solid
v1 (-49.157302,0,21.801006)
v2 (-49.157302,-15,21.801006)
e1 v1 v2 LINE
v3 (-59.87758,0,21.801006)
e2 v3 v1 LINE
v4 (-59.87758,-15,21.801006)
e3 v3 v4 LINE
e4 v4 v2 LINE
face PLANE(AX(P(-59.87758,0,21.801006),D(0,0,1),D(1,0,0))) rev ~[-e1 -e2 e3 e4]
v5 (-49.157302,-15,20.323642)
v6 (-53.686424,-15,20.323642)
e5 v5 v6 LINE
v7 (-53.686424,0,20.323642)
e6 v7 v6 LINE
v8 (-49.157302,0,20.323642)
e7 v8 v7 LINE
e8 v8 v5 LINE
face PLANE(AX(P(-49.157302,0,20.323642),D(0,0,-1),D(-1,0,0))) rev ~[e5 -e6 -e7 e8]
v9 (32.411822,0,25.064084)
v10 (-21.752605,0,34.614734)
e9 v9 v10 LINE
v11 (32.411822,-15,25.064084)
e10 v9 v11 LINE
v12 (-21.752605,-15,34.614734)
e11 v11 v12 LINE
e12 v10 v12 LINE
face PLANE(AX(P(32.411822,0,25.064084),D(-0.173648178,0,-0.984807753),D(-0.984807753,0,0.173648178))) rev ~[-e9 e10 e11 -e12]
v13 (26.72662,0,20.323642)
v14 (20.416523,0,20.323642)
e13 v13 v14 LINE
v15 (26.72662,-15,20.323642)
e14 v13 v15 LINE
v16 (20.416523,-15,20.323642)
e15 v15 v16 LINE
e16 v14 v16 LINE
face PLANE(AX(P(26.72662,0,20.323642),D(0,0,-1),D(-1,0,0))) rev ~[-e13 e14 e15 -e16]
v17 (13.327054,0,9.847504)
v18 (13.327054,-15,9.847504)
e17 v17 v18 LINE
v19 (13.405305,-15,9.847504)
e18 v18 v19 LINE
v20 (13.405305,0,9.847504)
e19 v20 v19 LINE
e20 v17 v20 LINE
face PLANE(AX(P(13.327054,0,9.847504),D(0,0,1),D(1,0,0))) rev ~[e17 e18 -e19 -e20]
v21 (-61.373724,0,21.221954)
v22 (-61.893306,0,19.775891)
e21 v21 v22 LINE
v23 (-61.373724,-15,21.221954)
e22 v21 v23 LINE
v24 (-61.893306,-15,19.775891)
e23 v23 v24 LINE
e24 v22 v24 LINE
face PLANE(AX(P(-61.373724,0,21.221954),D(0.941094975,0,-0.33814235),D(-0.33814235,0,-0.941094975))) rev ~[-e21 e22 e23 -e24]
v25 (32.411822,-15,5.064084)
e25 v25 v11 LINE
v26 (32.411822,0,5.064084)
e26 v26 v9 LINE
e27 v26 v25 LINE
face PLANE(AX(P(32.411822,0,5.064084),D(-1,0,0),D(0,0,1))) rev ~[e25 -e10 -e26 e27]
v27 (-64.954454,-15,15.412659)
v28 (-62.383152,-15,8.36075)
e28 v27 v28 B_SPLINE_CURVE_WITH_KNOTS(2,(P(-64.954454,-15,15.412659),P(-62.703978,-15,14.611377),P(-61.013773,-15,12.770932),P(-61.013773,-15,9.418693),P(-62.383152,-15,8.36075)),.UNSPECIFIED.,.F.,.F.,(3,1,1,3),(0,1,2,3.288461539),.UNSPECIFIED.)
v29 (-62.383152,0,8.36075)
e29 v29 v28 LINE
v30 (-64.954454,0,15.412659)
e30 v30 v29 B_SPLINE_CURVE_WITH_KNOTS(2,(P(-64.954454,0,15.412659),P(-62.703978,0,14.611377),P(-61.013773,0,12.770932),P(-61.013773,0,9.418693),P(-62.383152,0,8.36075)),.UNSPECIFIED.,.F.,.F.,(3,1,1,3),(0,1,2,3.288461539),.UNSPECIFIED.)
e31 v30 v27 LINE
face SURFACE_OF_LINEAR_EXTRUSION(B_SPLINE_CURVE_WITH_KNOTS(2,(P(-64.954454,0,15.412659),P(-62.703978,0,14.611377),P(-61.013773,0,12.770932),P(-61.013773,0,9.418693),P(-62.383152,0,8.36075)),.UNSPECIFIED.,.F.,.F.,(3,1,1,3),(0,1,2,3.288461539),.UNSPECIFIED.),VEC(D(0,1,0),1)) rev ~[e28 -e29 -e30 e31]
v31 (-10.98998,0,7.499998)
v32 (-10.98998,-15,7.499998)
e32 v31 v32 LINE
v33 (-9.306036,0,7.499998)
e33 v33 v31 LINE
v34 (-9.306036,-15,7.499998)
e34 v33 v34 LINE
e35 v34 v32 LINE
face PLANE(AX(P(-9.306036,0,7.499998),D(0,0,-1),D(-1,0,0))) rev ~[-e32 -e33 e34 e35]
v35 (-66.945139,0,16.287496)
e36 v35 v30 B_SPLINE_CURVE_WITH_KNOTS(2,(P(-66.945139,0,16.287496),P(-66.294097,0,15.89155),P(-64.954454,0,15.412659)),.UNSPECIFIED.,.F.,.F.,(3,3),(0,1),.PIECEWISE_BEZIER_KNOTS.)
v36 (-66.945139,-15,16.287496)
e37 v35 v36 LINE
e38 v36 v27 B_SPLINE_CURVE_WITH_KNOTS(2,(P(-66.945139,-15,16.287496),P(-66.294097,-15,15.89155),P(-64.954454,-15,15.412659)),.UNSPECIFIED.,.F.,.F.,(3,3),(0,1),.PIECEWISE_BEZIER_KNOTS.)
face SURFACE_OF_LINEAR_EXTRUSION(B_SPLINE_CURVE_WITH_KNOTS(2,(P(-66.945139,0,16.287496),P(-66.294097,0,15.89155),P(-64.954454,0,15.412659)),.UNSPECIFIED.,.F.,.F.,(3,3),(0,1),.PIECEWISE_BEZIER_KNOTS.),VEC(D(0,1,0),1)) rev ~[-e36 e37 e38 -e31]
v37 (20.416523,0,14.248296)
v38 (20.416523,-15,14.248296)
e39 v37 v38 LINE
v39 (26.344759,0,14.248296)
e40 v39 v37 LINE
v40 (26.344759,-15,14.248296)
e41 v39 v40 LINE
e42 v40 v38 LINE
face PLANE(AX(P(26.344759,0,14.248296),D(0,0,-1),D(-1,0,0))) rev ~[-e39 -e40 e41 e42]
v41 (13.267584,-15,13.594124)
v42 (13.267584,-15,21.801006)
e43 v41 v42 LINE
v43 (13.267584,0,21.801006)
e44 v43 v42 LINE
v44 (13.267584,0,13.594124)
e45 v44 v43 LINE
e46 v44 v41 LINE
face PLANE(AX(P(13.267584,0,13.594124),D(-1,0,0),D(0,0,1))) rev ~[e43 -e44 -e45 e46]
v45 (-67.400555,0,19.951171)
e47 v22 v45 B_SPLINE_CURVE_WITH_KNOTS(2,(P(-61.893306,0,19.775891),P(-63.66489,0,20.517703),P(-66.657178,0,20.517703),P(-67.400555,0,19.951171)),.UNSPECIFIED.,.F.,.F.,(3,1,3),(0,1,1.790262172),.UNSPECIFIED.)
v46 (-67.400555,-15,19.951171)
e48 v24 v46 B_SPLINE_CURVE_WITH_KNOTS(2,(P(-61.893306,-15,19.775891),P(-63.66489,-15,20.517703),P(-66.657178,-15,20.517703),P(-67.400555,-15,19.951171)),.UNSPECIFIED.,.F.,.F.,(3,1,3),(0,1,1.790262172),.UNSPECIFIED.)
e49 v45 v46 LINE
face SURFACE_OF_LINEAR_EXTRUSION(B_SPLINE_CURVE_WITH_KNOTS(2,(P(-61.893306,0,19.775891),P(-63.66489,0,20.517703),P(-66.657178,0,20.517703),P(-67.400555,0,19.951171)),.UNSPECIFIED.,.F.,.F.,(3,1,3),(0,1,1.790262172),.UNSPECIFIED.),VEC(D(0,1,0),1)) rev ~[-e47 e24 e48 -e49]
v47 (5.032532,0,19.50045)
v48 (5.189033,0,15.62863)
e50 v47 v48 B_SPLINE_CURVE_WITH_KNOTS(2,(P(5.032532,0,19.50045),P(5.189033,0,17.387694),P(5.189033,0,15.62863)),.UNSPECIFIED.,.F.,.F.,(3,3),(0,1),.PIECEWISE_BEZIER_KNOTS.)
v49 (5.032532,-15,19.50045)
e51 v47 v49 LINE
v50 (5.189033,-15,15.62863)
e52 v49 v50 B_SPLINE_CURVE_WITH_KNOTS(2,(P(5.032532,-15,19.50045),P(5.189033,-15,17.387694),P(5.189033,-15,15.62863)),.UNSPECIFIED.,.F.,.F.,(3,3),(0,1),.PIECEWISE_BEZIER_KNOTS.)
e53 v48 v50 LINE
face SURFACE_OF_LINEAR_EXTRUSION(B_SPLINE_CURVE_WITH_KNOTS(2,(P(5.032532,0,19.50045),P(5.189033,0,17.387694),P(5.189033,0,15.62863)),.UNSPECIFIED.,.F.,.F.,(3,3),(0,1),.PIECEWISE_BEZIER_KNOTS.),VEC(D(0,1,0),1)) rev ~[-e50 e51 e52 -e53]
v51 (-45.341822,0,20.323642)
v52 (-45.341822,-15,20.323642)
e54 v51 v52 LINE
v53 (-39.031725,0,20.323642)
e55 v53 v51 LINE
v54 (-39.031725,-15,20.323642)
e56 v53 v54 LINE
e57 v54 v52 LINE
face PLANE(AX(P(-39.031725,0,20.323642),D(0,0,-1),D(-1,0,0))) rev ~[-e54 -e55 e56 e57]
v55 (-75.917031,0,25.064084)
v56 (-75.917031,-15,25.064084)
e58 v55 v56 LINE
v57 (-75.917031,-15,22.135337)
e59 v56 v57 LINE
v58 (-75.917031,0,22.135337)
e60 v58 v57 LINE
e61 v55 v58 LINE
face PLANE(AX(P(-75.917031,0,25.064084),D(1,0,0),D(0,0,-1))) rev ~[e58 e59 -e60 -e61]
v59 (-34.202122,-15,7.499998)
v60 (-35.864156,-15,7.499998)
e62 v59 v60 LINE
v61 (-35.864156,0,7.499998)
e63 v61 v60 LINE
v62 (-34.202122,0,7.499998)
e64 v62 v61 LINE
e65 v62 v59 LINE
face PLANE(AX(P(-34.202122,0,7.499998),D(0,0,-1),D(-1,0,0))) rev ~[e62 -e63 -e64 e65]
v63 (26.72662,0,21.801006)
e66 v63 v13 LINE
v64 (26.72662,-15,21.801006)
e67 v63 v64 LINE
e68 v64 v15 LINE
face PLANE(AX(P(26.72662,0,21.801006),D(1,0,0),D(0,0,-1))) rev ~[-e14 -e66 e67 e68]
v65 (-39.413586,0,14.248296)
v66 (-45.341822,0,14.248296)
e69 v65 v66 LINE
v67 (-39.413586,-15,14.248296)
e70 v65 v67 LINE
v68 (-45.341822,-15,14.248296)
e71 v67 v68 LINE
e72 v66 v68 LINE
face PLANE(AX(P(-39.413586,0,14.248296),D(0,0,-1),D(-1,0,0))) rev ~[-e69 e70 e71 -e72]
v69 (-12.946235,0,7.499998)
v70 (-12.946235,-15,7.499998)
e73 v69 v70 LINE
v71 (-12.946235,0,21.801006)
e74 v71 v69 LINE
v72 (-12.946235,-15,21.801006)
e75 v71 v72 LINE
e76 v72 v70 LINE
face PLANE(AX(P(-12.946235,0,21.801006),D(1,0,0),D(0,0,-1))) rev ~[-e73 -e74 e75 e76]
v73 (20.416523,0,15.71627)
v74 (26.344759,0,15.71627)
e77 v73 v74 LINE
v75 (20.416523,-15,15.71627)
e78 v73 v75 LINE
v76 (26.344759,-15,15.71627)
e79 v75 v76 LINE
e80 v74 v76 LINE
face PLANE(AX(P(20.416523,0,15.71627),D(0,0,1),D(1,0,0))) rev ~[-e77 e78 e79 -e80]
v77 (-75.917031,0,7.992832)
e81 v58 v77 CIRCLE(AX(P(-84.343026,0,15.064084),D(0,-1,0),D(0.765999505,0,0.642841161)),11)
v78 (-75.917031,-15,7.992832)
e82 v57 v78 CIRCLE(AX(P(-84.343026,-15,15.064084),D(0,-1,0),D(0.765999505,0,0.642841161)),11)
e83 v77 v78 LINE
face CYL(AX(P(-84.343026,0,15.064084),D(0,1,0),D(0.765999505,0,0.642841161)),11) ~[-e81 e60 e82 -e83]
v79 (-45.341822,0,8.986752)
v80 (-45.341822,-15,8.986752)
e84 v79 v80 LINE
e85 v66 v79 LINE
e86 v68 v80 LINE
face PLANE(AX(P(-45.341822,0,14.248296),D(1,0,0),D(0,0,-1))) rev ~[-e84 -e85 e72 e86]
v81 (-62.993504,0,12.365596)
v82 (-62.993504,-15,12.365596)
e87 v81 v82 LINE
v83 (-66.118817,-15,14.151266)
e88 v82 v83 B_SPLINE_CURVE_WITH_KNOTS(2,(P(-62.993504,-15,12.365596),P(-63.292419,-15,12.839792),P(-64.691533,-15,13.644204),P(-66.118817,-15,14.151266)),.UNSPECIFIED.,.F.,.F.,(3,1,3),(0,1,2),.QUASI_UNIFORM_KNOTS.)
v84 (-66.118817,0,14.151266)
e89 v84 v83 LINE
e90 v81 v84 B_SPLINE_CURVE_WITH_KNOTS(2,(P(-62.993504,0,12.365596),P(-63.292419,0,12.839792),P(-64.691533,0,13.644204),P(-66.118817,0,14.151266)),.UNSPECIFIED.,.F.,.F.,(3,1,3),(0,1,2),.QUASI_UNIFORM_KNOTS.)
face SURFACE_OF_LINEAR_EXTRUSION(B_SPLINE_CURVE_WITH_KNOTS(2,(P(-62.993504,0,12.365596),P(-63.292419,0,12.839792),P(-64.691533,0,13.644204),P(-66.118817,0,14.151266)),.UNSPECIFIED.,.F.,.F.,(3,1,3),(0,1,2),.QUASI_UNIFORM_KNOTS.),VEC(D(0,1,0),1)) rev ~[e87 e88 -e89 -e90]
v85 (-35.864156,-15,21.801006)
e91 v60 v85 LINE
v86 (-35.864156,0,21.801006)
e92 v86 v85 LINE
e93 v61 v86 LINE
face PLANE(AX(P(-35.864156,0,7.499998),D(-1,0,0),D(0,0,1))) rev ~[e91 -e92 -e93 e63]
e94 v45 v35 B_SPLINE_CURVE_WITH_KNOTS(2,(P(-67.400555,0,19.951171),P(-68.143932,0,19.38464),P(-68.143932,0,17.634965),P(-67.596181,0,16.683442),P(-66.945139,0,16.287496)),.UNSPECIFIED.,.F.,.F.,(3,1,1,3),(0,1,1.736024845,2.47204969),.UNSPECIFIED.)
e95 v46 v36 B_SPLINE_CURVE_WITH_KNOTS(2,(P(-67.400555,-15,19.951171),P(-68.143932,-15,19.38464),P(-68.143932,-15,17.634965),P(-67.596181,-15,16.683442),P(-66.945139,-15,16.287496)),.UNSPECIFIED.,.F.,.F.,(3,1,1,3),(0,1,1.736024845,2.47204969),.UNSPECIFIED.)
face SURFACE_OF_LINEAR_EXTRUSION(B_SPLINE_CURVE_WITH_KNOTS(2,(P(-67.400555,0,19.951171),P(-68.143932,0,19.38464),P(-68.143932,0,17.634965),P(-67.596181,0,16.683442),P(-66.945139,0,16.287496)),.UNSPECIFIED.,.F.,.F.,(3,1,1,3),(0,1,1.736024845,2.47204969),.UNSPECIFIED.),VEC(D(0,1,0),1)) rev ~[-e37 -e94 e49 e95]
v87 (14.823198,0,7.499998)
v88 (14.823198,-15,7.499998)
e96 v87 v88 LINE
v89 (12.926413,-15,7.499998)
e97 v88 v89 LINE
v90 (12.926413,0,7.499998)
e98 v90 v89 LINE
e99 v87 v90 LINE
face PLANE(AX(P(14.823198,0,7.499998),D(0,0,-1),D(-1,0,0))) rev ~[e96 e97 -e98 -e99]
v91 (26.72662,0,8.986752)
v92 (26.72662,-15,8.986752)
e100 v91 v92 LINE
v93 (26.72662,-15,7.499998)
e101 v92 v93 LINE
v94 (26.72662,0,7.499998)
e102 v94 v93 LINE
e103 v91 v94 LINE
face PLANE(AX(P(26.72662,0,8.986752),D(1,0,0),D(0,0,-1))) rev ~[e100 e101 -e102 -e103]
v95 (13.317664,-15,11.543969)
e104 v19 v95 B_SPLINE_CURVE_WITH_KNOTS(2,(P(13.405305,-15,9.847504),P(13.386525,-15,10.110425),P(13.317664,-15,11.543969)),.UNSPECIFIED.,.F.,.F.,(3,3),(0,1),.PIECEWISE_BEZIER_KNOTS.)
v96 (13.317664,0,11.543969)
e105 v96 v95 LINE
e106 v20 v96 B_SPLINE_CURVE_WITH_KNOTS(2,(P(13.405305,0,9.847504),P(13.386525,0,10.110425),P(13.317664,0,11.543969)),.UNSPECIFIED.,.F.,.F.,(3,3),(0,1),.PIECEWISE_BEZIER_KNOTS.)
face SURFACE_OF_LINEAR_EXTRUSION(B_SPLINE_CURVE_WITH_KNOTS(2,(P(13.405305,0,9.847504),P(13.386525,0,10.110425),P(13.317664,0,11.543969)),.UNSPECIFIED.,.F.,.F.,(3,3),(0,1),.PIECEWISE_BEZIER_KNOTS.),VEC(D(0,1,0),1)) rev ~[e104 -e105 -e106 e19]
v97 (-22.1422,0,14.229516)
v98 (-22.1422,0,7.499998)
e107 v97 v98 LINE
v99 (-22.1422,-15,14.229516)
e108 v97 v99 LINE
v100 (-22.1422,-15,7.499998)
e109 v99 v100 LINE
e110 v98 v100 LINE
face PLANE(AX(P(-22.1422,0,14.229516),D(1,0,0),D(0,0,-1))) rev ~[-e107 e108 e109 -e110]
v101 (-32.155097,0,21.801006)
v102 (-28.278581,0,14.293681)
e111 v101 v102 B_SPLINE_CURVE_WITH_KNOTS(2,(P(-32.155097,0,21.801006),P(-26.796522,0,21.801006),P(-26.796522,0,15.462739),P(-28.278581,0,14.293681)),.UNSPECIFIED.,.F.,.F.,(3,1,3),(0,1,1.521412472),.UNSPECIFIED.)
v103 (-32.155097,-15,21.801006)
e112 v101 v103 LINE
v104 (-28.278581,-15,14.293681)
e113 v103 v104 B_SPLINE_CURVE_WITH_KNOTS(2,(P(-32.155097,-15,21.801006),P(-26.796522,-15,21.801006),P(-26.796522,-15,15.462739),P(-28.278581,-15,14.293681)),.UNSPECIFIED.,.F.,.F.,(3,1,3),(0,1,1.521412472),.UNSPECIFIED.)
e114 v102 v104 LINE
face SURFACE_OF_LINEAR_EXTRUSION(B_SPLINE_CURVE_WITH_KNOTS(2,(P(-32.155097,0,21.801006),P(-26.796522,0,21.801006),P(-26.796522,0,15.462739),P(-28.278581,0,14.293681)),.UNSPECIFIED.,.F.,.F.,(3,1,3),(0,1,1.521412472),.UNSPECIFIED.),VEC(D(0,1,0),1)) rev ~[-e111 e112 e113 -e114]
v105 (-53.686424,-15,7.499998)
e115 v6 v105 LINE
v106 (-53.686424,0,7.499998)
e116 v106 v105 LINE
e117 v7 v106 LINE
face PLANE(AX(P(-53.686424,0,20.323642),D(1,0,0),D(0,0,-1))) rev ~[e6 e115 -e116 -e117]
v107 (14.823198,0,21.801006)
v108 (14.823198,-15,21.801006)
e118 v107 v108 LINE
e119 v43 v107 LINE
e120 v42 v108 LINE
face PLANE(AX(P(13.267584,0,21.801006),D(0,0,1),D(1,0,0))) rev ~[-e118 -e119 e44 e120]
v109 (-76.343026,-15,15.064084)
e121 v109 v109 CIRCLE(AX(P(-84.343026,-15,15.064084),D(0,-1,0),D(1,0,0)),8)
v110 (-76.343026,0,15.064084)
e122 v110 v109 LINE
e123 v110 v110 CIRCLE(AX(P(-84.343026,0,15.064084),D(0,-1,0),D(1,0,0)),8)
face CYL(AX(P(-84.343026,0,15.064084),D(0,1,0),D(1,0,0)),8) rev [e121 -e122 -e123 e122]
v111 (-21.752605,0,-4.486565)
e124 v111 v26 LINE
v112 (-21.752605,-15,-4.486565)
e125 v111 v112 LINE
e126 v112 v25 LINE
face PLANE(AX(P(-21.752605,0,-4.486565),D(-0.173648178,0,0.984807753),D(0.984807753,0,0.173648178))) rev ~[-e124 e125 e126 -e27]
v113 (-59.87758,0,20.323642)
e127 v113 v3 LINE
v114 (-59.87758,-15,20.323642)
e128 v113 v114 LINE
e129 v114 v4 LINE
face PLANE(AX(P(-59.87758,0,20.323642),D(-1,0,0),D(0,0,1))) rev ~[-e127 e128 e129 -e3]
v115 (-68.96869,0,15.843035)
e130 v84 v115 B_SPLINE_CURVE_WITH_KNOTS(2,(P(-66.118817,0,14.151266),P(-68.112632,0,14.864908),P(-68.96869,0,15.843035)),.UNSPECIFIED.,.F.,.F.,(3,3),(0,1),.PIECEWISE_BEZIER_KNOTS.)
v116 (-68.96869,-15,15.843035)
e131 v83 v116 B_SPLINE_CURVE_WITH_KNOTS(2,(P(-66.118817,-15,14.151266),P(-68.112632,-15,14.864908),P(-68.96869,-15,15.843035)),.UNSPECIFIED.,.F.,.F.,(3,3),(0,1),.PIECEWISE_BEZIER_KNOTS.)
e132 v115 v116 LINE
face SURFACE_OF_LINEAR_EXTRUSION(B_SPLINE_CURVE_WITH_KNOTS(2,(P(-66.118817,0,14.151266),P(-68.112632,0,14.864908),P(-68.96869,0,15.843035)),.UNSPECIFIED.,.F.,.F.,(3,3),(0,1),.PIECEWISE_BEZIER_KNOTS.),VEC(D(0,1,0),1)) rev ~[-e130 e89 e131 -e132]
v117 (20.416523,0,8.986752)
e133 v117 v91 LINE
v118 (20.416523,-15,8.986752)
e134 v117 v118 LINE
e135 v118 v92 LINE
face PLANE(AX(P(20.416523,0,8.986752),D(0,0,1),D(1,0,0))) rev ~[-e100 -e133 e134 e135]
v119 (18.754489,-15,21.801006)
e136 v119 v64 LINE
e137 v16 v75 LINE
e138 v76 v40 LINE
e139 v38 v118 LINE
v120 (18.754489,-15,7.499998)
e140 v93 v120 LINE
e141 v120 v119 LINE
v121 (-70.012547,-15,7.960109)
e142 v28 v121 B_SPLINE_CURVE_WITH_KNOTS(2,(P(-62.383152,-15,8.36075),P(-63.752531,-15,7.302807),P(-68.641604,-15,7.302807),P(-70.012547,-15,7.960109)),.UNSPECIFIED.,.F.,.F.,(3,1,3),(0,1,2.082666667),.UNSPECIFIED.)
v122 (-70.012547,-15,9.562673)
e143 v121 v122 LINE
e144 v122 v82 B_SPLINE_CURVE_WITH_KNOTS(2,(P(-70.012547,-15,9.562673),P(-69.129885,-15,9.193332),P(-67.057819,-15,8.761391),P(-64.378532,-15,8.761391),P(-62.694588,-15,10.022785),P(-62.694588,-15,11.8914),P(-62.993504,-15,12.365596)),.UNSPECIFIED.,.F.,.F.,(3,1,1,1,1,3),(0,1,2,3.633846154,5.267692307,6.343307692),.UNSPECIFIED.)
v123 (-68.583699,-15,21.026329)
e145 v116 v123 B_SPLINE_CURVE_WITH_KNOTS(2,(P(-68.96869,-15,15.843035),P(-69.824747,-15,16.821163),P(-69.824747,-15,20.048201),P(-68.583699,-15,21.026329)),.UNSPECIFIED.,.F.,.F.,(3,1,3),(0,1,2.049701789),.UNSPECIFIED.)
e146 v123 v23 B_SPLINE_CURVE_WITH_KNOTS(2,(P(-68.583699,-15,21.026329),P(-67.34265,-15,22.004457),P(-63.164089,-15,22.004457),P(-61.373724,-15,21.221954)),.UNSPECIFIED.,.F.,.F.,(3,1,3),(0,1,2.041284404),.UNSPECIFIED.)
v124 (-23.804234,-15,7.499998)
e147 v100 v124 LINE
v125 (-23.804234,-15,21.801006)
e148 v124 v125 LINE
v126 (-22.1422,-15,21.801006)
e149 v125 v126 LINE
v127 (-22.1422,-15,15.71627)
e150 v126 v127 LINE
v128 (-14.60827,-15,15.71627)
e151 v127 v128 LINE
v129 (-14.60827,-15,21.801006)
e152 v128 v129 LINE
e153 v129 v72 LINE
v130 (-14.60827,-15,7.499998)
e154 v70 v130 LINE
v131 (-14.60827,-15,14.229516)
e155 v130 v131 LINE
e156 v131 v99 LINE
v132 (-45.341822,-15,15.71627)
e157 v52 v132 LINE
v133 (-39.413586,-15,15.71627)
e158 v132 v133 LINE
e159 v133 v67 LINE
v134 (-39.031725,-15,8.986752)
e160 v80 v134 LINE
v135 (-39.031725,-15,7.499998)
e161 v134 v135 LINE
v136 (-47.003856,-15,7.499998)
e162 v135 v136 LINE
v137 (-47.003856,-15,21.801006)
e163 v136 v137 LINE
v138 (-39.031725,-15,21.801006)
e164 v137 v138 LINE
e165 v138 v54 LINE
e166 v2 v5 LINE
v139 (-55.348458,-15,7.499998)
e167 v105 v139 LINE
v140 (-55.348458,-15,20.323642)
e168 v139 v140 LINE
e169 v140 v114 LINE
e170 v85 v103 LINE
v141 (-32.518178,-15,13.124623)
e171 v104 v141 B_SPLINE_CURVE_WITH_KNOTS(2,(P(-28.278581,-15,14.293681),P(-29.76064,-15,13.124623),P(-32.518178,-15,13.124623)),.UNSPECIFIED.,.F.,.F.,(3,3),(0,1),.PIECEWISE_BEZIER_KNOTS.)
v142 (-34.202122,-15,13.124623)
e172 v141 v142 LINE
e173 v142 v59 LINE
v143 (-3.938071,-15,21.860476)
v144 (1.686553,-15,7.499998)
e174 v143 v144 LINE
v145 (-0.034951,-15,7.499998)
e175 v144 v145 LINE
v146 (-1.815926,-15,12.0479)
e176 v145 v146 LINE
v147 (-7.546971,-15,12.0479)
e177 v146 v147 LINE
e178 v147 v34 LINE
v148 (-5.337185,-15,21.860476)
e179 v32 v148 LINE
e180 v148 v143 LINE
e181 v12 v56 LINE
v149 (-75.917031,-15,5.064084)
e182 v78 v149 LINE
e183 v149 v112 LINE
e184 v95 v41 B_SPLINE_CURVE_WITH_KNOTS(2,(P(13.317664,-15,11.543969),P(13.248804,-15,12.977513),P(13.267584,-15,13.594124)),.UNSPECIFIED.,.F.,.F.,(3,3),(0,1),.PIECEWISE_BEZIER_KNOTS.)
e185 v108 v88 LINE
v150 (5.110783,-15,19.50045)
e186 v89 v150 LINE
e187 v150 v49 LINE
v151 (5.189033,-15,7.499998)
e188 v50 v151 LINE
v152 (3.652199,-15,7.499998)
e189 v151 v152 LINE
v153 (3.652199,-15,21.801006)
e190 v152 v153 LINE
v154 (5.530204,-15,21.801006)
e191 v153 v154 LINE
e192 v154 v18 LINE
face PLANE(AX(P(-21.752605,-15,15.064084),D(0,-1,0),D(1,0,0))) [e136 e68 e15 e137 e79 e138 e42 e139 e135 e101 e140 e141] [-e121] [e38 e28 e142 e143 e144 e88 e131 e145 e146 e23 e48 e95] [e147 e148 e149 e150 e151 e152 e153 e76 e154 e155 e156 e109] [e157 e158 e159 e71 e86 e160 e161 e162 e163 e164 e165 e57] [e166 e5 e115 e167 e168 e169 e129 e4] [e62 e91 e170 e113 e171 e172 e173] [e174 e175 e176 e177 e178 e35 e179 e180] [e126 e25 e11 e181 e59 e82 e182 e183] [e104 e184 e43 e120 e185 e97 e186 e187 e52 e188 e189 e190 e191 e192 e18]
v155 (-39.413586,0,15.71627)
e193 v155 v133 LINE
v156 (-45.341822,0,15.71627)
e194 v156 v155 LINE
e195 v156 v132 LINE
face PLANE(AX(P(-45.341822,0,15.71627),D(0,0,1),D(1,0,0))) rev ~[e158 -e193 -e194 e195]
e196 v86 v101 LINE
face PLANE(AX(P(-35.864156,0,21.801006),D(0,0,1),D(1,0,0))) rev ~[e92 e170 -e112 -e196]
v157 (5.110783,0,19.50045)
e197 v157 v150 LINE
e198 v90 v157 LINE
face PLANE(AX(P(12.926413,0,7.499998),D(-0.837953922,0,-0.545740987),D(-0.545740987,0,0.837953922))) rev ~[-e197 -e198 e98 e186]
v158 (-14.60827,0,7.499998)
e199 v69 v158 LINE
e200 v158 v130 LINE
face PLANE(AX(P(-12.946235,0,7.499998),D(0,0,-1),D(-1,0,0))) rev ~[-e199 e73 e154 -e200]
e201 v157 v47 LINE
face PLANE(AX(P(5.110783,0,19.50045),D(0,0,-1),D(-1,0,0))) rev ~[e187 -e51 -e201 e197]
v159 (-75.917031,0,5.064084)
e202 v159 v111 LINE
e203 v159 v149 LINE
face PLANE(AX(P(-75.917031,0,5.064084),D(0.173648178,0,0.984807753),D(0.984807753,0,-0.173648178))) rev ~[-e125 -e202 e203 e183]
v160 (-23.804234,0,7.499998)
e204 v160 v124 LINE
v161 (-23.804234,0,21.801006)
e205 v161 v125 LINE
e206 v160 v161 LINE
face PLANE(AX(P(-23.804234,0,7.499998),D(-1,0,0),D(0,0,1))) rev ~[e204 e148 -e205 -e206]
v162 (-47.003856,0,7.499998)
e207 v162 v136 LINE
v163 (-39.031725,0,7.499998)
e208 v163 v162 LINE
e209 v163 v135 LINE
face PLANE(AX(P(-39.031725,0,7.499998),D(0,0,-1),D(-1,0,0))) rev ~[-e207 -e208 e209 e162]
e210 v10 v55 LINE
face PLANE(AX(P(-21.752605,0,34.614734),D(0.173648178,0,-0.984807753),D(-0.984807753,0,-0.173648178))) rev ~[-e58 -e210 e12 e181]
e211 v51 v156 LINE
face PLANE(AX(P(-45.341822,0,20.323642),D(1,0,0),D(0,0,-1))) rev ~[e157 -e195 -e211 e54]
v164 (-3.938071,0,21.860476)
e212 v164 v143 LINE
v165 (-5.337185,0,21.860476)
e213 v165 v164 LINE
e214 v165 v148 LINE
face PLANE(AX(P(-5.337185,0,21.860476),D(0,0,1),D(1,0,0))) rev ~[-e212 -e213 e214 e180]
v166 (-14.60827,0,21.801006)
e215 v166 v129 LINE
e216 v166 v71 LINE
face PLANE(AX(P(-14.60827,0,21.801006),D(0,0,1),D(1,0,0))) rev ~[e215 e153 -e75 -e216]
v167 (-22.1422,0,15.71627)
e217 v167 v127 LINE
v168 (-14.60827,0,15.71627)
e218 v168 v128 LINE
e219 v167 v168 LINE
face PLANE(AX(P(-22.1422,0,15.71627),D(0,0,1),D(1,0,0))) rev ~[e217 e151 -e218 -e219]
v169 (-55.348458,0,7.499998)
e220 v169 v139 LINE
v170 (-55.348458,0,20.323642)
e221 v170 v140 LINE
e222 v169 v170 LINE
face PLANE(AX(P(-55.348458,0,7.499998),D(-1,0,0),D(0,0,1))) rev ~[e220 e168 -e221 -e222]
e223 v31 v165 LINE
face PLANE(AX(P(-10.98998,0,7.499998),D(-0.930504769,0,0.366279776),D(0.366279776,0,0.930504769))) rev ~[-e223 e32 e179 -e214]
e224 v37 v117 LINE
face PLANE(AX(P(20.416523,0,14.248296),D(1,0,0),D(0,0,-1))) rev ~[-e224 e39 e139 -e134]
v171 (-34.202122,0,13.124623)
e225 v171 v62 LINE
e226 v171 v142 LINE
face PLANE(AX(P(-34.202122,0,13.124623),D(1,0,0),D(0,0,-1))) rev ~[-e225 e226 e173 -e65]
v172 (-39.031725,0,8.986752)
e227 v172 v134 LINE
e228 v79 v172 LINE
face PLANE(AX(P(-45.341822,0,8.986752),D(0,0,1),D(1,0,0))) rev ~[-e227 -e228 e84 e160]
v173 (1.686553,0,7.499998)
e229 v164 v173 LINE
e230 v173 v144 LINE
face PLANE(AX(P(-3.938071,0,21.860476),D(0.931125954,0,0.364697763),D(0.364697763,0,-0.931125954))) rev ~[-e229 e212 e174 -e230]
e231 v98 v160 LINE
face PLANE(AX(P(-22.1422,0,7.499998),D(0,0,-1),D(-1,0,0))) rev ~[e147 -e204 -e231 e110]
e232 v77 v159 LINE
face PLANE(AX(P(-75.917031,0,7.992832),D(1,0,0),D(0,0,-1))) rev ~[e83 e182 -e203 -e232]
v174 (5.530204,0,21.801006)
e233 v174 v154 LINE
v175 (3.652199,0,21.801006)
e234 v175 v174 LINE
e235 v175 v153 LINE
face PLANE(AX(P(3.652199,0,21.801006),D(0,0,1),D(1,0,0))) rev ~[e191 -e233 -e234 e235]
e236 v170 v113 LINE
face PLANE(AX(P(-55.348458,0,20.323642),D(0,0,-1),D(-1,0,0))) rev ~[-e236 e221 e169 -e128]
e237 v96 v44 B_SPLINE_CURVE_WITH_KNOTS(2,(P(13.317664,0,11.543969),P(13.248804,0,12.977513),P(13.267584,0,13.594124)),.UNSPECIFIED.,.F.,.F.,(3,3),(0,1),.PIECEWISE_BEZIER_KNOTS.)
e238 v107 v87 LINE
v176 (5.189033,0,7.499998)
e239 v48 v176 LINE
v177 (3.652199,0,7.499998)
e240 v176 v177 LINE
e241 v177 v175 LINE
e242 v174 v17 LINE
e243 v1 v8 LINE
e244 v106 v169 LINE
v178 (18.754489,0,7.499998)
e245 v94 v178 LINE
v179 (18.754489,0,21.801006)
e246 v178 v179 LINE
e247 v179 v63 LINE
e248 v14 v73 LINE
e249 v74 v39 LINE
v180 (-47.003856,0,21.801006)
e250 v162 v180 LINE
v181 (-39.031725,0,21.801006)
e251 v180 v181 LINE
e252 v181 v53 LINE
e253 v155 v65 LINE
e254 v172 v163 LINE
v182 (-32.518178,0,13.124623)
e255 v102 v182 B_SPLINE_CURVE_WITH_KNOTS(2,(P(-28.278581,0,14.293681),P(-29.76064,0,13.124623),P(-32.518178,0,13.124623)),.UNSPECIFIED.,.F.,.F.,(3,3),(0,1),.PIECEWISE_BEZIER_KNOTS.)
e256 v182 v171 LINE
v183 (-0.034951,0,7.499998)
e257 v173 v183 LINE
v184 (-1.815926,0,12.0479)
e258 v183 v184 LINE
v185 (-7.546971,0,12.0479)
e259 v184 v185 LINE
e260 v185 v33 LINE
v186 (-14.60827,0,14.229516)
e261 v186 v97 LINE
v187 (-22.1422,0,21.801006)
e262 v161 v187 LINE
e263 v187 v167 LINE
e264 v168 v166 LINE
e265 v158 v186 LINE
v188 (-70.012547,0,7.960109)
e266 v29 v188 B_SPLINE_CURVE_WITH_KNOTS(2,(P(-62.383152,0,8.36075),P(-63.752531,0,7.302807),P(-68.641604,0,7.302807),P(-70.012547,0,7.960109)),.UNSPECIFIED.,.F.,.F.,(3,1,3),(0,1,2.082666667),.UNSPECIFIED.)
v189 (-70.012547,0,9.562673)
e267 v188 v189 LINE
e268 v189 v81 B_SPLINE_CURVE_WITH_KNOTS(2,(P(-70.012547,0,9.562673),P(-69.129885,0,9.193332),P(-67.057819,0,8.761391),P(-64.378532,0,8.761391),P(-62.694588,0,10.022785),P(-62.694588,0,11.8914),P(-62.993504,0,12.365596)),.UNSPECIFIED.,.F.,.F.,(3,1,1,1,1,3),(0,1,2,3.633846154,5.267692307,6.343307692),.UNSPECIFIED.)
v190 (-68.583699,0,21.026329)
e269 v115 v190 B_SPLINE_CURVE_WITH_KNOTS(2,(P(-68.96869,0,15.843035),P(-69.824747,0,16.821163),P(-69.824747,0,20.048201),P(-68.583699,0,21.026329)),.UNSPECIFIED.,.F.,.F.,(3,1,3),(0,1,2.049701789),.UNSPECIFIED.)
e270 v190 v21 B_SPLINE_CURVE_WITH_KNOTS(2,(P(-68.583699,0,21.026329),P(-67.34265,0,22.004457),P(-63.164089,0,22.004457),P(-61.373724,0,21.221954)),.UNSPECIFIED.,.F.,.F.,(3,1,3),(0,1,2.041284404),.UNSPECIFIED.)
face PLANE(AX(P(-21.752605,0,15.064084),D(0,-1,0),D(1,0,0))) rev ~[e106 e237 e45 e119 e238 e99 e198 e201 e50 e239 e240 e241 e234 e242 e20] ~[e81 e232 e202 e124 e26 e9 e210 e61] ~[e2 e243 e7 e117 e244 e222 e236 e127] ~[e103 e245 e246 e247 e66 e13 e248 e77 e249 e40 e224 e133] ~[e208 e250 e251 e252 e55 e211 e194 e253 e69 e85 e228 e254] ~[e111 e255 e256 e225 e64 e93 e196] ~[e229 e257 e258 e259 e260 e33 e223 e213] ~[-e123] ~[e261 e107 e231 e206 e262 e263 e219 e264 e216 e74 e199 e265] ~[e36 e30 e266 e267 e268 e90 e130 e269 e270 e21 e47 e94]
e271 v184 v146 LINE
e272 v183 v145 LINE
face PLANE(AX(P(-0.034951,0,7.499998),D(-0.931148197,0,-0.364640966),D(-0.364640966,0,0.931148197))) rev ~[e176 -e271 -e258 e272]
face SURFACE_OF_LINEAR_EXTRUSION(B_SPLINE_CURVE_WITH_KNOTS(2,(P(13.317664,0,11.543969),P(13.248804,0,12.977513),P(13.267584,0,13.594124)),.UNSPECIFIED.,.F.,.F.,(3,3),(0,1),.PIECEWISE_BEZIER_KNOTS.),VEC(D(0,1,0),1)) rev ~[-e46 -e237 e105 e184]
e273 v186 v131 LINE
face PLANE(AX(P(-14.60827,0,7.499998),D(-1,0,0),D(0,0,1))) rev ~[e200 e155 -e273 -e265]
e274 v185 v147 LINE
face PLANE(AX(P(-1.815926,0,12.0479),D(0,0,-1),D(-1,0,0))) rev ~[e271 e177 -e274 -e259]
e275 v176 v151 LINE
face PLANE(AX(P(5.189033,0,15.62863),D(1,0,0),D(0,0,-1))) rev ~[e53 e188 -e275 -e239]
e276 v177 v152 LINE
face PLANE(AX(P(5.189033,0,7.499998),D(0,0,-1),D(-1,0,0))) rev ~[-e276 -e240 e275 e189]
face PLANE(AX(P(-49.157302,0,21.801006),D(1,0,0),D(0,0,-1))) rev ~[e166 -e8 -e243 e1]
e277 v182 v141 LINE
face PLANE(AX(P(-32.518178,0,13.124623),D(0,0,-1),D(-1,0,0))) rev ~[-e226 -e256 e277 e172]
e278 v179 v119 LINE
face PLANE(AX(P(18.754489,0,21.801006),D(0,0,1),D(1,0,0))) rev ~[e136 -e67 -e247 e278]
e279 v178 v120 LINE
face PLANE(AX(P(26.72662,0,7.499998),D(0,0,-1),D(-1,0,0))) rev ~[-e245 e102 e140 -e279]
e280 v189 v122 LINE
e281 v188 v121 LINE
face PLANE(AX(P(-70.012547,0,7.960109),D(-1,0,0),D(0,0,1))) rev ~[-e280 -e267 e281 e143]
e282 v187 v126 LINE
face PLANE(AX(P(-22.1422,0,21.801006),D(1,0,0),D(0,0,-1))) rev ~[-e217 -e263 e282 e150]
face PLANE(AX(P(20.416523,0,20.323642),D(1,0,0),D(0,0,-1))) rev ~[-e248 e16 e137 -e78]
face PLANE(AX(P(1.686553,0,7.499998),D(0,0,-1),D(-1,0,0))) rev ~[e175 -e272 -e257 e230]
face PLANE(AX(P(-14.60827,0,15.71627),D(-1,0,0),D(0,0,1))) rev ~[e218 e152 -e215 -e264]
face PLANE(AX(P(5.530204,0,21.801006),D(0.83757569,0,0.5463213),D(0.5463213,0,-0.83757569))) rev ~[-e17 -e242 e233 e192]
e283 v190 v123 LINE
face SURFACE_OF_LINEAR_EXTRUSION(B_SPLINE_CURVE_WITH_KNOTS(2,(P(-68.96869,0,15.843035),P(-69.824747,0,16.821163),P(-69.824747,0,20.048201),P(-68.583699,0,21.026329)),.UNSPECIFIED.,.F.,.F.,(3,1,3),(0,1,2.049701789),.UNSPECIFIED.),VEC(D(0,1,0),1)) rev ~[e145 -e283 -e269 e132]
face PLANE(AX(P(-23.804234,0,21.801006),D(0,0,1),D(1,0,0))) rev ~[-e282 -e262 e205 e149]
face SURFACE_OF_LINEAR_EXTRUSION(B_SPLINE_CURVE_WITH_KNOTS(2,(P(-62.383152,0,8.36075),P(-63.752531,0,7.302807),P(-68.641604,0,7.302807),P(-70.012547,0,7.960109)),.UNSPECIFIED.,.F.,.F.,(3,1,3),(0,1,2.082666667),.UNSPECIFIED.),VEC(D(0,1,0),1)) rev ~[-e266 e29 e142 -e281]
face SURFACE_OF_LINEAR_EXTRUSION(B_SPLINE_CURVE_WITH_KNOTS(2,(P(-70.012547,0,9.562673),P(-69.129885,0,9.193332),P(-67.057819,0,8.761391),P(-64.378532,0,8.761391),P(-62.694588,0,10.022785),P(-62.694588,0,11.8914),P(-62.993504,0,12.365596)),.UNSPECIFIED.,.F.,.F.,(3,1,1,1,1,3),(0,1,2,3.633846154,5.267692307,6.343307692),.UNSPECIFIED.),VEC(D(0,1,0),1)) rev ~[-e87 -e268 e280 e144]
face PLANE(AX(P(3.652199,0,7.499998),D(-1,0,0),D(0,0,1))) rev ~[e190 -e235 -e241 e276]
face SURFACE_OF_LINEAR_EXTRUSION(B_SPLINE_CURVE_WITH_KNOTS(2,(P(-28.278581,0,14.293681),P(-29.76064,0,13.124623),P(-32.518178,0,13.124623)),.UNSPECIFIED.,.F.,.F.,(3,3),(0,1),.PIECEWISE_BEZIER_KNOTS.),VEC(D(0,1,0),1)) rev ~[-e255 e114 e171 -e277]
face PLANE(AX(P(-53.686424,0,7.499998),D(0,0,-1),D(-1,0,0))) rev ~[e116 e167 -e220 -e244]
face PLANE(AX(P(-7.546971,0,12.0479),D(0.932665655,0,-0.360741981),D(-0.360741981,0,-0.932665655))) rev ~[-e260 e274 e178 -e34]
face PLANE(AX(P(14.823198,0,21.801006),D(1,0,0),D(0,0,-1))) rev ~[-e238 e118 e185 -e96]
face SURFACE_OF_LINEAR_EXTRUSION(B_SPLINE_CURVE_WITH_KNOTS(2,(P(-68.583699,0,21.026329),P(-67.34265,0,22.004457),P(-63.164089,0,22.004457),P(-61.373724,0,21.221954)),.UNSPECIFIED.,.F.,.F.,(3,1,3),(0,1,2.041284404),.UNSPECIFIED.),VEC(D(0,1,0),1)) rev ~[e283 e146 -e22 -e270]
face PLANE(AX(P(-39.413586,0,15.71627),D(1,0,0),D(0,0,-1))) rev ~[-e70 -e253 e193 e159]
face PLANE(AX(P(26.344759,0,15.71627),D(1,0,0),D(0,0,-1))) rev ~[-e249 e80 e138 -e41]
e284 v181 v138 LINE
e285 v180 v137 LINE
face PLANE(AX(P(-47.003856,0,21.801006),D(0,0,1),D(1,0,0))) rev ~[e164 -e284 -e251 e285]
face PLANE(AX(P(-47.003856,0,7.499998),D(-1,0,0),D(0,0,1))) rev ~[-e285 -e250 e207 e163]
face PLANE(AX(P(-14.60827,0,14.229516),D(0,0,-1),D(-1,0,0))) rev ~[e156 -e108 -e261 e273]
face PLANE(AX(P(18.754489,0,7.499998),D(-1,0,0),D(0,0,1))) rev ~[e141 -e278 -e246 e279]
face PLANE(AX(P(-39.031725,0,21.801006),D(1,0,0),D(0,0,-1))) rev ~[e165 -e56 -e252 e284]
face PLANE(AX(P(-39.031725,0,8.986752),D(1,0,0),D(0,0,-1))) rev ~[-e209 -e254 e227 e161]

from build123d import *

# Parameters (mm, degrees)
F0_R     = 8
F1_DEPTH = 15


with BuildPart() as f1:
    # F0 (on Front) → F1 (new body)
    with BuildSketch(Plane.XZ):
        Polygon((-21.752604651, 34.6147342483), (-75.9170310667, 25.0640844767), (-75.9170310667, 22.1353372474), (-75.9170310667, 15.0640844767), (-75.9170310667, 7.992831706), (-75.9170310667, 5.0640844767), (-21.752604651, -4.486565295), (32.4118217647, 5.0640844767), (32.4118217647, 25.0640844767), align=None)
        with BuildLine():
            add(Edge.make_bspline(
                [(-61.8588756487, 13.6911544495), (-61.0137733992, 12.770932), (-61.0137733992, 11.3060881009)],
                knots=[0, 0, 0, 1, 1, 1], degree=2))
            add(Edge.make_bspline(
                [(-61.0137733992, 11.3060881009), (-61.0137733992, 9.4186930769), (-62.3831520442, 8.3607502609)],
                knots=[0, 0, 0, 1, 1, 1], degree=2))
            add(Edge.make_bspline(
                [(-62.3831520442, 8.3607502609), (-63.7525306893, 7.3028074448), (-66.1000369379, 7.3028074448)],
                knots=[0, 0, 0, 1, 1, 1], degree=2))
            add(Edge.make_bspline(
                [(-66.1000369379, 7.3028074448), (-68.6416037031, 7.3028074448), (-70.0125473523, 7.9601091945)],
                knots=[0, 0, 0, 1, 1, 1], degree=2))
            Line((-70.0125473523, 7.9601091945), (-70.0125473523, 9.5626734602))
            add(Edge.make_bspline(
                [(-70.0125473523, 9.5626734602), (-69.1298850028, 9.1933324771), (-68.0938522451, 8.9773619022)],
                knots=[0, 0, 0, 1, 1, 1], degree=2))
            add(Edge.make_bspline(
                [(-68.0938522451, 8.9773619022), (-67.0578194874, 8.7613913273), (-66.0405667796, 8.7613913273)],
                knots=[0, 0, 0, 1, 1, 1], degree=2))
            add(Edge.make_bspline(
                [(-66.0405667796, 8.7613913273), (-64.3785323556, 8.7613913273), (-63.5365601144, 9.3920880061)],
                knots=[0, 0, 0, 1, 1, 1], degree=2))
            add(Edge.make_bspline(
                [(-63.5365601144, 9.3920880061), (-62.6945878732, 10.0227846849), (-62.6945878732, 11.1495876843)],
                knots=[0, 0, 0, 1, 1, 1], degree=2))
            add(Edge.make_bspline(
                [(-62.6945878732, 11.1495876843), (-62.6945878732, 11.8913996589), (-62.9935036689, 12.3655959211)],
                knots=[0, 0, 0, 1, 1, 1], degree=2))
            add(Edge.make_bspline(
                [(-62.9935036689, 12.3655959211), (-63.2924194645, 12.8397921833), (-63.9919763266, 13.2419982539)],
                knots=[0, 0, 0, 1, 1, 1], degree=2))
            add(Edge.make_bspline(
                [(-63.9919763266, 13.2419982539), (-64.6915331887, 13.6442043245), (-66.1188169879, 14.1512656742)],
                knots=[0, 0, 0, 1, 1, 1], degree=2))
            add(Edge.make_bspline(
                [(-66.1188169879, 14.1512656742), (-68.1126322951, 14.8649075738), (-68.9686895738, 15.8430351774)],
                knots=[0, 0, 0, 1, 1, 1], degree=2))
            add(Edge.make_bspline(
                [(-68.9686895738, 15.8430351774), (-69.8247468524, 16.821162781), (-69.8247468524, 18.3955569718)],
                knots=[0, 0, 0, 1, 1, 1], degree=2))
            add(Edge.make_bspline(
                [(-69.8247468524, 18.3955569718), (-69.8247468524, 20.0482013708), (-68.583698549, 21.0263289744)],
                knots=[0, 0, 0, 1, 1, 1], degree=2))
            add(Edge.make_bspline(
                [(-68.583698549, 21.0263289744), (-67.3426502455, 22.004456578), (-65.2956247967, 22.004456578)],
                knots=[0, 0, 0, 1, 1, 1], degree=2))
            add(Edge.make_bspline(
                [(-65.2956247967, 22.004456578), (-63.1640891229, 22.004456578), (-61.3737243573, 21.2219544952)],
                knots=[0, 0, 0, 1, 1, 1], degree=2))
            Line((-61.3737243573, 21.2219544952), (-61.8933057403, 19.775890646))
            add(Edge.make_bspline(
                [(-61.8933057403, 19.775890646), (-63.664890456, 20.5177026206), (-65.336314905, 20.5177026206)],
                knots=[0, 0, 0, 1, 1, 1], degree=2))
            add(Edge.make_bspline(
                [(-65.336314905, 20.5177026206), (-66.6571784209, 20.5177026206), (-67.4005553997, 19.9511711126)],
                knots=[0, 0, 0, 1, 1, 1], degree=2))
            add(Edge.make_bspline(
                [(-67.4005553997, 19.9511711126), (-68.1439323784, 19.3846396045), (-68.1439323784, 18.3767769218)],
                knots=[0, 0, 0, 1, 1, 1], degree=2))
            add(Edge.make_bspline(
                [(-68.1439323784, 18.3767769218), (-68.1439323784, 17.6349649472), (-67.8700566494, 17.1592036808)],
                knots=[0, 0, 0, 1, 1, 1], degree=2))
            add(Edge.make_bspline(
                [(-67.8700566494, 17.1592036808), (-67.5961809204, 16.6834424144), (-66.9451391874, 16.2874963605)],
                knots=[0, 0, 0, 1, 1, 1], degree=2))
            add(Edge.make_bspline(
                [(-66.9451391874, 16.2874963605), (-66.2940974545, 15.8915503066), (-64.9544538886, 15.4126590318)],
                knots=[0, 0, 0, 1, 1, 1], degree=2))
            add(Edge.make_bspline(
                [(-64.9544538886, 15.4126590318), (-62.7039778982, 14.611376899), (-61.8588756487, 13.6911544495)],
                knots=[0, 0, 0, 1, 1, 1], degree=2))
        make_face(mode=Mode.SUBTRACT)
        Polygon((-53.6864238951, 20.323642104), (-53.6864238951, 7.4999979697), (-55.3484583191, 7.4999979697), (-55.3484583191, 20.323642104), (-59.8775803748, 20.323642104), (-59.8775803748, 21.8010060365), (-49.1573018393, 21.8010060365), (-49.1573018393, 20.323642104), align=None, mode=Mode.SUBTRACT)
        Polygon((-39.0317248868, 8.9867519272), (-39.0317248868, 7.4999979697), (-47.0038561072, 7.4999979697), (-47.0038561072, 21.8010060365), (-39.0317248868, 21.8010060365), (-39.0317248868, 20.323642104), (-45.3418216832, 20.323642104), (-45.3418216832, 15.71626984), (-39.4135859033, 15.71626984), (-39.4135859033, 14.2482959325), (-45.3418216832, 14.2482959325), (-45.3418216832, 8.9867519272), align=None, mode=Mode.SUBTRACT)
        with BuildLine():
            add(Edge.make_bspline(
                [(-32.1550965825, 21.8010060365), (-26.7965223189, 21.8010060365), (-26.7965223189, 17.6349649472)],
                knots=[0, 0, 0, 1, 1, 1], degree=2))
            add(Edge.make_bspline(
                [(-26.7965223189, 17.6349649472), (-26.7965223189, 15.4627391651), (-28.2785812638, 14.2936810533)],
                knots=[0, 0, 0, 1, 1, 1], degree=2))
            add(Edge.make_bspline(
                [(-28.2785812638, 14.2936810533), (-29.7606402088, 13.1246229415), (-32.5181775489, 13.1246229415)],
                knots=[0, 0, 0, 1, 1, 1], degree=2))
            Line((-32.5181775489, 13.1246229415), (-34.2021220313, 13.1246229415))
            Line((-34.2021220313, 13.1246229415), (-34.2021220313, 7.4999979697))
            Line((-34.2021220313, 7.4999979697), (-35.8641564553, 7.4999979697))
            Line((-35.8641564553, 7.4999979697), (-35.8641564553, 21.8010060365))
            Line((-35.8641564553, 21.8010060365), (-32.1550965825, 21.8010060365))
        make_face(mode=Mode.SUBTRACT)
        Polygon((-12.9462354518, 21.8010060365), (-12.9462354518, 7.4999979697), (-14.6082698759, 7.4999979697), (-14.6082698759, 14.2295158825), (-22.1421999299, 14.2295158825), (-22.1421999299, 7.4999979697), (-23.8042343539, 7.4999979697), (-23.8042343539, 21.8010060365), (-22.1421999299, 21.8010060365), (-22.1421999299, 15.71626984), (-14.6082698759, 15.71626984), (-14.6082698759, 21.8010060365), align=None, mode=Mode.SUBTRACT)
        Polygon((1.6865534981, 7.4999979697), (-0.0349510843, 7.4999979697), (-1.8159258249, 12.0479000754), (-7.5469710799, 12.0479000754), (-9.3060357623, 7.4999979697), (-10.9899802446, 7.4999979697), (-5.3371851979, 21.8604761948), (-3.9380714737, 21.8604761948), align=None, mode=Mode.SUBTRACT)
        with BuildLine():
            Line((14.8231984655, 21.8010060365), (14.8231984655, 7.4999979697))
            Line((14.8231984655, 7.4999979697), (12.9264134166, 7.4999979697))
            Line((12.9264134166, 7.4999979697), (5.1107826128, 19.5004499128))
            Line((5.1107826128, 19.5004499128), (5.0325324045, 19.5004499128))
            add(Edge.make_bspline(
                [(5.0325324045, 19.5004499128), (5.1890328211, 17.387694289), (5.1890328211, 15.6286296067)],
                knots=[0, 0, 0, 1, 1, 1], degree=2))
            Line((5.1890328211, 15.6286296067), (5.1890328211, 7.4999979697))
            Line((5.1890328211, 7.4999979697), (3.6521987303, 7.4999979697))
            Line((3.6521987303, 7.4999979697), (3.6521987303, 21.8010060365))
            Line((3.6521987303, 21.8010060365), (5.5302037292, 21.8010060365))
            Line((5.5302037292, 21.8010060365), (13.327054483, 9.8475042184))
            Line((13.327054483, 9.8475042184), (13.4053046913, 9.8475042184))
            add(Edge.make_bspline(
                [(13.4053046913, 9.8475042184), (13.3865246413, 10.1104249182), (13.317664458, 11.5439687341)],
                knots=[0, 0, 0, 1, 1, 1], degree=2))
            add(Edge.make_bspline(
                [(13.317664458, 11.5439687341), (13.2488042748, 12.9775125499), (13.2675843247, 13.5941241912)],
                knots=[0, 0, 0, 1, 1, 1], degree=2))
            Line((13.2675843247, 13.5941241912), (13.2675843247, 21.8010060365))
            Line((13.2675843247, 21.8010060365), (14.8231984655, 21.8010060365))
        make_face(mode=Mode.SUBTRACT)
        Polygon((26.7266201503, 8.9867519272), (26.7266201503, 7.4999979697), (18.7544889299, 7.4999979697), (18.7544889299, 21.8010060365), (26.7266201503, 21.8010060365), (26.7266201503, 20.323642104), (20.416523354, 20.323642104), (20.416523354, 15.71626984), (26.3447591339, 15.71626984), (26.3447591339, 14.2482959325), (20.416523354, 14.2482959325), (20.416523354, 8.9867519272), align=None, mode=Mode.SUBTRACT)
        with BuildLine():
            Line((-75.9170310667, 15.0640844767), (-75.9170310667, 22.1353372474))
            ThreePointArc((-75.9170310667, 22.1353372474), (-95.3430256224, 15.0640844767), (-75.9170310667, 7.992831706))
            Line((-75.9170310667, 7.992831706), (-75.9170310667, 15.0640844767))
        make_face()
        with Locations((-84.3430256224, 15.0640844767)):
            Circle(F0_R, mode=Mode.SUBTRACT)
    extrude(amount=F1_DEPTH)


solid = f1.part
